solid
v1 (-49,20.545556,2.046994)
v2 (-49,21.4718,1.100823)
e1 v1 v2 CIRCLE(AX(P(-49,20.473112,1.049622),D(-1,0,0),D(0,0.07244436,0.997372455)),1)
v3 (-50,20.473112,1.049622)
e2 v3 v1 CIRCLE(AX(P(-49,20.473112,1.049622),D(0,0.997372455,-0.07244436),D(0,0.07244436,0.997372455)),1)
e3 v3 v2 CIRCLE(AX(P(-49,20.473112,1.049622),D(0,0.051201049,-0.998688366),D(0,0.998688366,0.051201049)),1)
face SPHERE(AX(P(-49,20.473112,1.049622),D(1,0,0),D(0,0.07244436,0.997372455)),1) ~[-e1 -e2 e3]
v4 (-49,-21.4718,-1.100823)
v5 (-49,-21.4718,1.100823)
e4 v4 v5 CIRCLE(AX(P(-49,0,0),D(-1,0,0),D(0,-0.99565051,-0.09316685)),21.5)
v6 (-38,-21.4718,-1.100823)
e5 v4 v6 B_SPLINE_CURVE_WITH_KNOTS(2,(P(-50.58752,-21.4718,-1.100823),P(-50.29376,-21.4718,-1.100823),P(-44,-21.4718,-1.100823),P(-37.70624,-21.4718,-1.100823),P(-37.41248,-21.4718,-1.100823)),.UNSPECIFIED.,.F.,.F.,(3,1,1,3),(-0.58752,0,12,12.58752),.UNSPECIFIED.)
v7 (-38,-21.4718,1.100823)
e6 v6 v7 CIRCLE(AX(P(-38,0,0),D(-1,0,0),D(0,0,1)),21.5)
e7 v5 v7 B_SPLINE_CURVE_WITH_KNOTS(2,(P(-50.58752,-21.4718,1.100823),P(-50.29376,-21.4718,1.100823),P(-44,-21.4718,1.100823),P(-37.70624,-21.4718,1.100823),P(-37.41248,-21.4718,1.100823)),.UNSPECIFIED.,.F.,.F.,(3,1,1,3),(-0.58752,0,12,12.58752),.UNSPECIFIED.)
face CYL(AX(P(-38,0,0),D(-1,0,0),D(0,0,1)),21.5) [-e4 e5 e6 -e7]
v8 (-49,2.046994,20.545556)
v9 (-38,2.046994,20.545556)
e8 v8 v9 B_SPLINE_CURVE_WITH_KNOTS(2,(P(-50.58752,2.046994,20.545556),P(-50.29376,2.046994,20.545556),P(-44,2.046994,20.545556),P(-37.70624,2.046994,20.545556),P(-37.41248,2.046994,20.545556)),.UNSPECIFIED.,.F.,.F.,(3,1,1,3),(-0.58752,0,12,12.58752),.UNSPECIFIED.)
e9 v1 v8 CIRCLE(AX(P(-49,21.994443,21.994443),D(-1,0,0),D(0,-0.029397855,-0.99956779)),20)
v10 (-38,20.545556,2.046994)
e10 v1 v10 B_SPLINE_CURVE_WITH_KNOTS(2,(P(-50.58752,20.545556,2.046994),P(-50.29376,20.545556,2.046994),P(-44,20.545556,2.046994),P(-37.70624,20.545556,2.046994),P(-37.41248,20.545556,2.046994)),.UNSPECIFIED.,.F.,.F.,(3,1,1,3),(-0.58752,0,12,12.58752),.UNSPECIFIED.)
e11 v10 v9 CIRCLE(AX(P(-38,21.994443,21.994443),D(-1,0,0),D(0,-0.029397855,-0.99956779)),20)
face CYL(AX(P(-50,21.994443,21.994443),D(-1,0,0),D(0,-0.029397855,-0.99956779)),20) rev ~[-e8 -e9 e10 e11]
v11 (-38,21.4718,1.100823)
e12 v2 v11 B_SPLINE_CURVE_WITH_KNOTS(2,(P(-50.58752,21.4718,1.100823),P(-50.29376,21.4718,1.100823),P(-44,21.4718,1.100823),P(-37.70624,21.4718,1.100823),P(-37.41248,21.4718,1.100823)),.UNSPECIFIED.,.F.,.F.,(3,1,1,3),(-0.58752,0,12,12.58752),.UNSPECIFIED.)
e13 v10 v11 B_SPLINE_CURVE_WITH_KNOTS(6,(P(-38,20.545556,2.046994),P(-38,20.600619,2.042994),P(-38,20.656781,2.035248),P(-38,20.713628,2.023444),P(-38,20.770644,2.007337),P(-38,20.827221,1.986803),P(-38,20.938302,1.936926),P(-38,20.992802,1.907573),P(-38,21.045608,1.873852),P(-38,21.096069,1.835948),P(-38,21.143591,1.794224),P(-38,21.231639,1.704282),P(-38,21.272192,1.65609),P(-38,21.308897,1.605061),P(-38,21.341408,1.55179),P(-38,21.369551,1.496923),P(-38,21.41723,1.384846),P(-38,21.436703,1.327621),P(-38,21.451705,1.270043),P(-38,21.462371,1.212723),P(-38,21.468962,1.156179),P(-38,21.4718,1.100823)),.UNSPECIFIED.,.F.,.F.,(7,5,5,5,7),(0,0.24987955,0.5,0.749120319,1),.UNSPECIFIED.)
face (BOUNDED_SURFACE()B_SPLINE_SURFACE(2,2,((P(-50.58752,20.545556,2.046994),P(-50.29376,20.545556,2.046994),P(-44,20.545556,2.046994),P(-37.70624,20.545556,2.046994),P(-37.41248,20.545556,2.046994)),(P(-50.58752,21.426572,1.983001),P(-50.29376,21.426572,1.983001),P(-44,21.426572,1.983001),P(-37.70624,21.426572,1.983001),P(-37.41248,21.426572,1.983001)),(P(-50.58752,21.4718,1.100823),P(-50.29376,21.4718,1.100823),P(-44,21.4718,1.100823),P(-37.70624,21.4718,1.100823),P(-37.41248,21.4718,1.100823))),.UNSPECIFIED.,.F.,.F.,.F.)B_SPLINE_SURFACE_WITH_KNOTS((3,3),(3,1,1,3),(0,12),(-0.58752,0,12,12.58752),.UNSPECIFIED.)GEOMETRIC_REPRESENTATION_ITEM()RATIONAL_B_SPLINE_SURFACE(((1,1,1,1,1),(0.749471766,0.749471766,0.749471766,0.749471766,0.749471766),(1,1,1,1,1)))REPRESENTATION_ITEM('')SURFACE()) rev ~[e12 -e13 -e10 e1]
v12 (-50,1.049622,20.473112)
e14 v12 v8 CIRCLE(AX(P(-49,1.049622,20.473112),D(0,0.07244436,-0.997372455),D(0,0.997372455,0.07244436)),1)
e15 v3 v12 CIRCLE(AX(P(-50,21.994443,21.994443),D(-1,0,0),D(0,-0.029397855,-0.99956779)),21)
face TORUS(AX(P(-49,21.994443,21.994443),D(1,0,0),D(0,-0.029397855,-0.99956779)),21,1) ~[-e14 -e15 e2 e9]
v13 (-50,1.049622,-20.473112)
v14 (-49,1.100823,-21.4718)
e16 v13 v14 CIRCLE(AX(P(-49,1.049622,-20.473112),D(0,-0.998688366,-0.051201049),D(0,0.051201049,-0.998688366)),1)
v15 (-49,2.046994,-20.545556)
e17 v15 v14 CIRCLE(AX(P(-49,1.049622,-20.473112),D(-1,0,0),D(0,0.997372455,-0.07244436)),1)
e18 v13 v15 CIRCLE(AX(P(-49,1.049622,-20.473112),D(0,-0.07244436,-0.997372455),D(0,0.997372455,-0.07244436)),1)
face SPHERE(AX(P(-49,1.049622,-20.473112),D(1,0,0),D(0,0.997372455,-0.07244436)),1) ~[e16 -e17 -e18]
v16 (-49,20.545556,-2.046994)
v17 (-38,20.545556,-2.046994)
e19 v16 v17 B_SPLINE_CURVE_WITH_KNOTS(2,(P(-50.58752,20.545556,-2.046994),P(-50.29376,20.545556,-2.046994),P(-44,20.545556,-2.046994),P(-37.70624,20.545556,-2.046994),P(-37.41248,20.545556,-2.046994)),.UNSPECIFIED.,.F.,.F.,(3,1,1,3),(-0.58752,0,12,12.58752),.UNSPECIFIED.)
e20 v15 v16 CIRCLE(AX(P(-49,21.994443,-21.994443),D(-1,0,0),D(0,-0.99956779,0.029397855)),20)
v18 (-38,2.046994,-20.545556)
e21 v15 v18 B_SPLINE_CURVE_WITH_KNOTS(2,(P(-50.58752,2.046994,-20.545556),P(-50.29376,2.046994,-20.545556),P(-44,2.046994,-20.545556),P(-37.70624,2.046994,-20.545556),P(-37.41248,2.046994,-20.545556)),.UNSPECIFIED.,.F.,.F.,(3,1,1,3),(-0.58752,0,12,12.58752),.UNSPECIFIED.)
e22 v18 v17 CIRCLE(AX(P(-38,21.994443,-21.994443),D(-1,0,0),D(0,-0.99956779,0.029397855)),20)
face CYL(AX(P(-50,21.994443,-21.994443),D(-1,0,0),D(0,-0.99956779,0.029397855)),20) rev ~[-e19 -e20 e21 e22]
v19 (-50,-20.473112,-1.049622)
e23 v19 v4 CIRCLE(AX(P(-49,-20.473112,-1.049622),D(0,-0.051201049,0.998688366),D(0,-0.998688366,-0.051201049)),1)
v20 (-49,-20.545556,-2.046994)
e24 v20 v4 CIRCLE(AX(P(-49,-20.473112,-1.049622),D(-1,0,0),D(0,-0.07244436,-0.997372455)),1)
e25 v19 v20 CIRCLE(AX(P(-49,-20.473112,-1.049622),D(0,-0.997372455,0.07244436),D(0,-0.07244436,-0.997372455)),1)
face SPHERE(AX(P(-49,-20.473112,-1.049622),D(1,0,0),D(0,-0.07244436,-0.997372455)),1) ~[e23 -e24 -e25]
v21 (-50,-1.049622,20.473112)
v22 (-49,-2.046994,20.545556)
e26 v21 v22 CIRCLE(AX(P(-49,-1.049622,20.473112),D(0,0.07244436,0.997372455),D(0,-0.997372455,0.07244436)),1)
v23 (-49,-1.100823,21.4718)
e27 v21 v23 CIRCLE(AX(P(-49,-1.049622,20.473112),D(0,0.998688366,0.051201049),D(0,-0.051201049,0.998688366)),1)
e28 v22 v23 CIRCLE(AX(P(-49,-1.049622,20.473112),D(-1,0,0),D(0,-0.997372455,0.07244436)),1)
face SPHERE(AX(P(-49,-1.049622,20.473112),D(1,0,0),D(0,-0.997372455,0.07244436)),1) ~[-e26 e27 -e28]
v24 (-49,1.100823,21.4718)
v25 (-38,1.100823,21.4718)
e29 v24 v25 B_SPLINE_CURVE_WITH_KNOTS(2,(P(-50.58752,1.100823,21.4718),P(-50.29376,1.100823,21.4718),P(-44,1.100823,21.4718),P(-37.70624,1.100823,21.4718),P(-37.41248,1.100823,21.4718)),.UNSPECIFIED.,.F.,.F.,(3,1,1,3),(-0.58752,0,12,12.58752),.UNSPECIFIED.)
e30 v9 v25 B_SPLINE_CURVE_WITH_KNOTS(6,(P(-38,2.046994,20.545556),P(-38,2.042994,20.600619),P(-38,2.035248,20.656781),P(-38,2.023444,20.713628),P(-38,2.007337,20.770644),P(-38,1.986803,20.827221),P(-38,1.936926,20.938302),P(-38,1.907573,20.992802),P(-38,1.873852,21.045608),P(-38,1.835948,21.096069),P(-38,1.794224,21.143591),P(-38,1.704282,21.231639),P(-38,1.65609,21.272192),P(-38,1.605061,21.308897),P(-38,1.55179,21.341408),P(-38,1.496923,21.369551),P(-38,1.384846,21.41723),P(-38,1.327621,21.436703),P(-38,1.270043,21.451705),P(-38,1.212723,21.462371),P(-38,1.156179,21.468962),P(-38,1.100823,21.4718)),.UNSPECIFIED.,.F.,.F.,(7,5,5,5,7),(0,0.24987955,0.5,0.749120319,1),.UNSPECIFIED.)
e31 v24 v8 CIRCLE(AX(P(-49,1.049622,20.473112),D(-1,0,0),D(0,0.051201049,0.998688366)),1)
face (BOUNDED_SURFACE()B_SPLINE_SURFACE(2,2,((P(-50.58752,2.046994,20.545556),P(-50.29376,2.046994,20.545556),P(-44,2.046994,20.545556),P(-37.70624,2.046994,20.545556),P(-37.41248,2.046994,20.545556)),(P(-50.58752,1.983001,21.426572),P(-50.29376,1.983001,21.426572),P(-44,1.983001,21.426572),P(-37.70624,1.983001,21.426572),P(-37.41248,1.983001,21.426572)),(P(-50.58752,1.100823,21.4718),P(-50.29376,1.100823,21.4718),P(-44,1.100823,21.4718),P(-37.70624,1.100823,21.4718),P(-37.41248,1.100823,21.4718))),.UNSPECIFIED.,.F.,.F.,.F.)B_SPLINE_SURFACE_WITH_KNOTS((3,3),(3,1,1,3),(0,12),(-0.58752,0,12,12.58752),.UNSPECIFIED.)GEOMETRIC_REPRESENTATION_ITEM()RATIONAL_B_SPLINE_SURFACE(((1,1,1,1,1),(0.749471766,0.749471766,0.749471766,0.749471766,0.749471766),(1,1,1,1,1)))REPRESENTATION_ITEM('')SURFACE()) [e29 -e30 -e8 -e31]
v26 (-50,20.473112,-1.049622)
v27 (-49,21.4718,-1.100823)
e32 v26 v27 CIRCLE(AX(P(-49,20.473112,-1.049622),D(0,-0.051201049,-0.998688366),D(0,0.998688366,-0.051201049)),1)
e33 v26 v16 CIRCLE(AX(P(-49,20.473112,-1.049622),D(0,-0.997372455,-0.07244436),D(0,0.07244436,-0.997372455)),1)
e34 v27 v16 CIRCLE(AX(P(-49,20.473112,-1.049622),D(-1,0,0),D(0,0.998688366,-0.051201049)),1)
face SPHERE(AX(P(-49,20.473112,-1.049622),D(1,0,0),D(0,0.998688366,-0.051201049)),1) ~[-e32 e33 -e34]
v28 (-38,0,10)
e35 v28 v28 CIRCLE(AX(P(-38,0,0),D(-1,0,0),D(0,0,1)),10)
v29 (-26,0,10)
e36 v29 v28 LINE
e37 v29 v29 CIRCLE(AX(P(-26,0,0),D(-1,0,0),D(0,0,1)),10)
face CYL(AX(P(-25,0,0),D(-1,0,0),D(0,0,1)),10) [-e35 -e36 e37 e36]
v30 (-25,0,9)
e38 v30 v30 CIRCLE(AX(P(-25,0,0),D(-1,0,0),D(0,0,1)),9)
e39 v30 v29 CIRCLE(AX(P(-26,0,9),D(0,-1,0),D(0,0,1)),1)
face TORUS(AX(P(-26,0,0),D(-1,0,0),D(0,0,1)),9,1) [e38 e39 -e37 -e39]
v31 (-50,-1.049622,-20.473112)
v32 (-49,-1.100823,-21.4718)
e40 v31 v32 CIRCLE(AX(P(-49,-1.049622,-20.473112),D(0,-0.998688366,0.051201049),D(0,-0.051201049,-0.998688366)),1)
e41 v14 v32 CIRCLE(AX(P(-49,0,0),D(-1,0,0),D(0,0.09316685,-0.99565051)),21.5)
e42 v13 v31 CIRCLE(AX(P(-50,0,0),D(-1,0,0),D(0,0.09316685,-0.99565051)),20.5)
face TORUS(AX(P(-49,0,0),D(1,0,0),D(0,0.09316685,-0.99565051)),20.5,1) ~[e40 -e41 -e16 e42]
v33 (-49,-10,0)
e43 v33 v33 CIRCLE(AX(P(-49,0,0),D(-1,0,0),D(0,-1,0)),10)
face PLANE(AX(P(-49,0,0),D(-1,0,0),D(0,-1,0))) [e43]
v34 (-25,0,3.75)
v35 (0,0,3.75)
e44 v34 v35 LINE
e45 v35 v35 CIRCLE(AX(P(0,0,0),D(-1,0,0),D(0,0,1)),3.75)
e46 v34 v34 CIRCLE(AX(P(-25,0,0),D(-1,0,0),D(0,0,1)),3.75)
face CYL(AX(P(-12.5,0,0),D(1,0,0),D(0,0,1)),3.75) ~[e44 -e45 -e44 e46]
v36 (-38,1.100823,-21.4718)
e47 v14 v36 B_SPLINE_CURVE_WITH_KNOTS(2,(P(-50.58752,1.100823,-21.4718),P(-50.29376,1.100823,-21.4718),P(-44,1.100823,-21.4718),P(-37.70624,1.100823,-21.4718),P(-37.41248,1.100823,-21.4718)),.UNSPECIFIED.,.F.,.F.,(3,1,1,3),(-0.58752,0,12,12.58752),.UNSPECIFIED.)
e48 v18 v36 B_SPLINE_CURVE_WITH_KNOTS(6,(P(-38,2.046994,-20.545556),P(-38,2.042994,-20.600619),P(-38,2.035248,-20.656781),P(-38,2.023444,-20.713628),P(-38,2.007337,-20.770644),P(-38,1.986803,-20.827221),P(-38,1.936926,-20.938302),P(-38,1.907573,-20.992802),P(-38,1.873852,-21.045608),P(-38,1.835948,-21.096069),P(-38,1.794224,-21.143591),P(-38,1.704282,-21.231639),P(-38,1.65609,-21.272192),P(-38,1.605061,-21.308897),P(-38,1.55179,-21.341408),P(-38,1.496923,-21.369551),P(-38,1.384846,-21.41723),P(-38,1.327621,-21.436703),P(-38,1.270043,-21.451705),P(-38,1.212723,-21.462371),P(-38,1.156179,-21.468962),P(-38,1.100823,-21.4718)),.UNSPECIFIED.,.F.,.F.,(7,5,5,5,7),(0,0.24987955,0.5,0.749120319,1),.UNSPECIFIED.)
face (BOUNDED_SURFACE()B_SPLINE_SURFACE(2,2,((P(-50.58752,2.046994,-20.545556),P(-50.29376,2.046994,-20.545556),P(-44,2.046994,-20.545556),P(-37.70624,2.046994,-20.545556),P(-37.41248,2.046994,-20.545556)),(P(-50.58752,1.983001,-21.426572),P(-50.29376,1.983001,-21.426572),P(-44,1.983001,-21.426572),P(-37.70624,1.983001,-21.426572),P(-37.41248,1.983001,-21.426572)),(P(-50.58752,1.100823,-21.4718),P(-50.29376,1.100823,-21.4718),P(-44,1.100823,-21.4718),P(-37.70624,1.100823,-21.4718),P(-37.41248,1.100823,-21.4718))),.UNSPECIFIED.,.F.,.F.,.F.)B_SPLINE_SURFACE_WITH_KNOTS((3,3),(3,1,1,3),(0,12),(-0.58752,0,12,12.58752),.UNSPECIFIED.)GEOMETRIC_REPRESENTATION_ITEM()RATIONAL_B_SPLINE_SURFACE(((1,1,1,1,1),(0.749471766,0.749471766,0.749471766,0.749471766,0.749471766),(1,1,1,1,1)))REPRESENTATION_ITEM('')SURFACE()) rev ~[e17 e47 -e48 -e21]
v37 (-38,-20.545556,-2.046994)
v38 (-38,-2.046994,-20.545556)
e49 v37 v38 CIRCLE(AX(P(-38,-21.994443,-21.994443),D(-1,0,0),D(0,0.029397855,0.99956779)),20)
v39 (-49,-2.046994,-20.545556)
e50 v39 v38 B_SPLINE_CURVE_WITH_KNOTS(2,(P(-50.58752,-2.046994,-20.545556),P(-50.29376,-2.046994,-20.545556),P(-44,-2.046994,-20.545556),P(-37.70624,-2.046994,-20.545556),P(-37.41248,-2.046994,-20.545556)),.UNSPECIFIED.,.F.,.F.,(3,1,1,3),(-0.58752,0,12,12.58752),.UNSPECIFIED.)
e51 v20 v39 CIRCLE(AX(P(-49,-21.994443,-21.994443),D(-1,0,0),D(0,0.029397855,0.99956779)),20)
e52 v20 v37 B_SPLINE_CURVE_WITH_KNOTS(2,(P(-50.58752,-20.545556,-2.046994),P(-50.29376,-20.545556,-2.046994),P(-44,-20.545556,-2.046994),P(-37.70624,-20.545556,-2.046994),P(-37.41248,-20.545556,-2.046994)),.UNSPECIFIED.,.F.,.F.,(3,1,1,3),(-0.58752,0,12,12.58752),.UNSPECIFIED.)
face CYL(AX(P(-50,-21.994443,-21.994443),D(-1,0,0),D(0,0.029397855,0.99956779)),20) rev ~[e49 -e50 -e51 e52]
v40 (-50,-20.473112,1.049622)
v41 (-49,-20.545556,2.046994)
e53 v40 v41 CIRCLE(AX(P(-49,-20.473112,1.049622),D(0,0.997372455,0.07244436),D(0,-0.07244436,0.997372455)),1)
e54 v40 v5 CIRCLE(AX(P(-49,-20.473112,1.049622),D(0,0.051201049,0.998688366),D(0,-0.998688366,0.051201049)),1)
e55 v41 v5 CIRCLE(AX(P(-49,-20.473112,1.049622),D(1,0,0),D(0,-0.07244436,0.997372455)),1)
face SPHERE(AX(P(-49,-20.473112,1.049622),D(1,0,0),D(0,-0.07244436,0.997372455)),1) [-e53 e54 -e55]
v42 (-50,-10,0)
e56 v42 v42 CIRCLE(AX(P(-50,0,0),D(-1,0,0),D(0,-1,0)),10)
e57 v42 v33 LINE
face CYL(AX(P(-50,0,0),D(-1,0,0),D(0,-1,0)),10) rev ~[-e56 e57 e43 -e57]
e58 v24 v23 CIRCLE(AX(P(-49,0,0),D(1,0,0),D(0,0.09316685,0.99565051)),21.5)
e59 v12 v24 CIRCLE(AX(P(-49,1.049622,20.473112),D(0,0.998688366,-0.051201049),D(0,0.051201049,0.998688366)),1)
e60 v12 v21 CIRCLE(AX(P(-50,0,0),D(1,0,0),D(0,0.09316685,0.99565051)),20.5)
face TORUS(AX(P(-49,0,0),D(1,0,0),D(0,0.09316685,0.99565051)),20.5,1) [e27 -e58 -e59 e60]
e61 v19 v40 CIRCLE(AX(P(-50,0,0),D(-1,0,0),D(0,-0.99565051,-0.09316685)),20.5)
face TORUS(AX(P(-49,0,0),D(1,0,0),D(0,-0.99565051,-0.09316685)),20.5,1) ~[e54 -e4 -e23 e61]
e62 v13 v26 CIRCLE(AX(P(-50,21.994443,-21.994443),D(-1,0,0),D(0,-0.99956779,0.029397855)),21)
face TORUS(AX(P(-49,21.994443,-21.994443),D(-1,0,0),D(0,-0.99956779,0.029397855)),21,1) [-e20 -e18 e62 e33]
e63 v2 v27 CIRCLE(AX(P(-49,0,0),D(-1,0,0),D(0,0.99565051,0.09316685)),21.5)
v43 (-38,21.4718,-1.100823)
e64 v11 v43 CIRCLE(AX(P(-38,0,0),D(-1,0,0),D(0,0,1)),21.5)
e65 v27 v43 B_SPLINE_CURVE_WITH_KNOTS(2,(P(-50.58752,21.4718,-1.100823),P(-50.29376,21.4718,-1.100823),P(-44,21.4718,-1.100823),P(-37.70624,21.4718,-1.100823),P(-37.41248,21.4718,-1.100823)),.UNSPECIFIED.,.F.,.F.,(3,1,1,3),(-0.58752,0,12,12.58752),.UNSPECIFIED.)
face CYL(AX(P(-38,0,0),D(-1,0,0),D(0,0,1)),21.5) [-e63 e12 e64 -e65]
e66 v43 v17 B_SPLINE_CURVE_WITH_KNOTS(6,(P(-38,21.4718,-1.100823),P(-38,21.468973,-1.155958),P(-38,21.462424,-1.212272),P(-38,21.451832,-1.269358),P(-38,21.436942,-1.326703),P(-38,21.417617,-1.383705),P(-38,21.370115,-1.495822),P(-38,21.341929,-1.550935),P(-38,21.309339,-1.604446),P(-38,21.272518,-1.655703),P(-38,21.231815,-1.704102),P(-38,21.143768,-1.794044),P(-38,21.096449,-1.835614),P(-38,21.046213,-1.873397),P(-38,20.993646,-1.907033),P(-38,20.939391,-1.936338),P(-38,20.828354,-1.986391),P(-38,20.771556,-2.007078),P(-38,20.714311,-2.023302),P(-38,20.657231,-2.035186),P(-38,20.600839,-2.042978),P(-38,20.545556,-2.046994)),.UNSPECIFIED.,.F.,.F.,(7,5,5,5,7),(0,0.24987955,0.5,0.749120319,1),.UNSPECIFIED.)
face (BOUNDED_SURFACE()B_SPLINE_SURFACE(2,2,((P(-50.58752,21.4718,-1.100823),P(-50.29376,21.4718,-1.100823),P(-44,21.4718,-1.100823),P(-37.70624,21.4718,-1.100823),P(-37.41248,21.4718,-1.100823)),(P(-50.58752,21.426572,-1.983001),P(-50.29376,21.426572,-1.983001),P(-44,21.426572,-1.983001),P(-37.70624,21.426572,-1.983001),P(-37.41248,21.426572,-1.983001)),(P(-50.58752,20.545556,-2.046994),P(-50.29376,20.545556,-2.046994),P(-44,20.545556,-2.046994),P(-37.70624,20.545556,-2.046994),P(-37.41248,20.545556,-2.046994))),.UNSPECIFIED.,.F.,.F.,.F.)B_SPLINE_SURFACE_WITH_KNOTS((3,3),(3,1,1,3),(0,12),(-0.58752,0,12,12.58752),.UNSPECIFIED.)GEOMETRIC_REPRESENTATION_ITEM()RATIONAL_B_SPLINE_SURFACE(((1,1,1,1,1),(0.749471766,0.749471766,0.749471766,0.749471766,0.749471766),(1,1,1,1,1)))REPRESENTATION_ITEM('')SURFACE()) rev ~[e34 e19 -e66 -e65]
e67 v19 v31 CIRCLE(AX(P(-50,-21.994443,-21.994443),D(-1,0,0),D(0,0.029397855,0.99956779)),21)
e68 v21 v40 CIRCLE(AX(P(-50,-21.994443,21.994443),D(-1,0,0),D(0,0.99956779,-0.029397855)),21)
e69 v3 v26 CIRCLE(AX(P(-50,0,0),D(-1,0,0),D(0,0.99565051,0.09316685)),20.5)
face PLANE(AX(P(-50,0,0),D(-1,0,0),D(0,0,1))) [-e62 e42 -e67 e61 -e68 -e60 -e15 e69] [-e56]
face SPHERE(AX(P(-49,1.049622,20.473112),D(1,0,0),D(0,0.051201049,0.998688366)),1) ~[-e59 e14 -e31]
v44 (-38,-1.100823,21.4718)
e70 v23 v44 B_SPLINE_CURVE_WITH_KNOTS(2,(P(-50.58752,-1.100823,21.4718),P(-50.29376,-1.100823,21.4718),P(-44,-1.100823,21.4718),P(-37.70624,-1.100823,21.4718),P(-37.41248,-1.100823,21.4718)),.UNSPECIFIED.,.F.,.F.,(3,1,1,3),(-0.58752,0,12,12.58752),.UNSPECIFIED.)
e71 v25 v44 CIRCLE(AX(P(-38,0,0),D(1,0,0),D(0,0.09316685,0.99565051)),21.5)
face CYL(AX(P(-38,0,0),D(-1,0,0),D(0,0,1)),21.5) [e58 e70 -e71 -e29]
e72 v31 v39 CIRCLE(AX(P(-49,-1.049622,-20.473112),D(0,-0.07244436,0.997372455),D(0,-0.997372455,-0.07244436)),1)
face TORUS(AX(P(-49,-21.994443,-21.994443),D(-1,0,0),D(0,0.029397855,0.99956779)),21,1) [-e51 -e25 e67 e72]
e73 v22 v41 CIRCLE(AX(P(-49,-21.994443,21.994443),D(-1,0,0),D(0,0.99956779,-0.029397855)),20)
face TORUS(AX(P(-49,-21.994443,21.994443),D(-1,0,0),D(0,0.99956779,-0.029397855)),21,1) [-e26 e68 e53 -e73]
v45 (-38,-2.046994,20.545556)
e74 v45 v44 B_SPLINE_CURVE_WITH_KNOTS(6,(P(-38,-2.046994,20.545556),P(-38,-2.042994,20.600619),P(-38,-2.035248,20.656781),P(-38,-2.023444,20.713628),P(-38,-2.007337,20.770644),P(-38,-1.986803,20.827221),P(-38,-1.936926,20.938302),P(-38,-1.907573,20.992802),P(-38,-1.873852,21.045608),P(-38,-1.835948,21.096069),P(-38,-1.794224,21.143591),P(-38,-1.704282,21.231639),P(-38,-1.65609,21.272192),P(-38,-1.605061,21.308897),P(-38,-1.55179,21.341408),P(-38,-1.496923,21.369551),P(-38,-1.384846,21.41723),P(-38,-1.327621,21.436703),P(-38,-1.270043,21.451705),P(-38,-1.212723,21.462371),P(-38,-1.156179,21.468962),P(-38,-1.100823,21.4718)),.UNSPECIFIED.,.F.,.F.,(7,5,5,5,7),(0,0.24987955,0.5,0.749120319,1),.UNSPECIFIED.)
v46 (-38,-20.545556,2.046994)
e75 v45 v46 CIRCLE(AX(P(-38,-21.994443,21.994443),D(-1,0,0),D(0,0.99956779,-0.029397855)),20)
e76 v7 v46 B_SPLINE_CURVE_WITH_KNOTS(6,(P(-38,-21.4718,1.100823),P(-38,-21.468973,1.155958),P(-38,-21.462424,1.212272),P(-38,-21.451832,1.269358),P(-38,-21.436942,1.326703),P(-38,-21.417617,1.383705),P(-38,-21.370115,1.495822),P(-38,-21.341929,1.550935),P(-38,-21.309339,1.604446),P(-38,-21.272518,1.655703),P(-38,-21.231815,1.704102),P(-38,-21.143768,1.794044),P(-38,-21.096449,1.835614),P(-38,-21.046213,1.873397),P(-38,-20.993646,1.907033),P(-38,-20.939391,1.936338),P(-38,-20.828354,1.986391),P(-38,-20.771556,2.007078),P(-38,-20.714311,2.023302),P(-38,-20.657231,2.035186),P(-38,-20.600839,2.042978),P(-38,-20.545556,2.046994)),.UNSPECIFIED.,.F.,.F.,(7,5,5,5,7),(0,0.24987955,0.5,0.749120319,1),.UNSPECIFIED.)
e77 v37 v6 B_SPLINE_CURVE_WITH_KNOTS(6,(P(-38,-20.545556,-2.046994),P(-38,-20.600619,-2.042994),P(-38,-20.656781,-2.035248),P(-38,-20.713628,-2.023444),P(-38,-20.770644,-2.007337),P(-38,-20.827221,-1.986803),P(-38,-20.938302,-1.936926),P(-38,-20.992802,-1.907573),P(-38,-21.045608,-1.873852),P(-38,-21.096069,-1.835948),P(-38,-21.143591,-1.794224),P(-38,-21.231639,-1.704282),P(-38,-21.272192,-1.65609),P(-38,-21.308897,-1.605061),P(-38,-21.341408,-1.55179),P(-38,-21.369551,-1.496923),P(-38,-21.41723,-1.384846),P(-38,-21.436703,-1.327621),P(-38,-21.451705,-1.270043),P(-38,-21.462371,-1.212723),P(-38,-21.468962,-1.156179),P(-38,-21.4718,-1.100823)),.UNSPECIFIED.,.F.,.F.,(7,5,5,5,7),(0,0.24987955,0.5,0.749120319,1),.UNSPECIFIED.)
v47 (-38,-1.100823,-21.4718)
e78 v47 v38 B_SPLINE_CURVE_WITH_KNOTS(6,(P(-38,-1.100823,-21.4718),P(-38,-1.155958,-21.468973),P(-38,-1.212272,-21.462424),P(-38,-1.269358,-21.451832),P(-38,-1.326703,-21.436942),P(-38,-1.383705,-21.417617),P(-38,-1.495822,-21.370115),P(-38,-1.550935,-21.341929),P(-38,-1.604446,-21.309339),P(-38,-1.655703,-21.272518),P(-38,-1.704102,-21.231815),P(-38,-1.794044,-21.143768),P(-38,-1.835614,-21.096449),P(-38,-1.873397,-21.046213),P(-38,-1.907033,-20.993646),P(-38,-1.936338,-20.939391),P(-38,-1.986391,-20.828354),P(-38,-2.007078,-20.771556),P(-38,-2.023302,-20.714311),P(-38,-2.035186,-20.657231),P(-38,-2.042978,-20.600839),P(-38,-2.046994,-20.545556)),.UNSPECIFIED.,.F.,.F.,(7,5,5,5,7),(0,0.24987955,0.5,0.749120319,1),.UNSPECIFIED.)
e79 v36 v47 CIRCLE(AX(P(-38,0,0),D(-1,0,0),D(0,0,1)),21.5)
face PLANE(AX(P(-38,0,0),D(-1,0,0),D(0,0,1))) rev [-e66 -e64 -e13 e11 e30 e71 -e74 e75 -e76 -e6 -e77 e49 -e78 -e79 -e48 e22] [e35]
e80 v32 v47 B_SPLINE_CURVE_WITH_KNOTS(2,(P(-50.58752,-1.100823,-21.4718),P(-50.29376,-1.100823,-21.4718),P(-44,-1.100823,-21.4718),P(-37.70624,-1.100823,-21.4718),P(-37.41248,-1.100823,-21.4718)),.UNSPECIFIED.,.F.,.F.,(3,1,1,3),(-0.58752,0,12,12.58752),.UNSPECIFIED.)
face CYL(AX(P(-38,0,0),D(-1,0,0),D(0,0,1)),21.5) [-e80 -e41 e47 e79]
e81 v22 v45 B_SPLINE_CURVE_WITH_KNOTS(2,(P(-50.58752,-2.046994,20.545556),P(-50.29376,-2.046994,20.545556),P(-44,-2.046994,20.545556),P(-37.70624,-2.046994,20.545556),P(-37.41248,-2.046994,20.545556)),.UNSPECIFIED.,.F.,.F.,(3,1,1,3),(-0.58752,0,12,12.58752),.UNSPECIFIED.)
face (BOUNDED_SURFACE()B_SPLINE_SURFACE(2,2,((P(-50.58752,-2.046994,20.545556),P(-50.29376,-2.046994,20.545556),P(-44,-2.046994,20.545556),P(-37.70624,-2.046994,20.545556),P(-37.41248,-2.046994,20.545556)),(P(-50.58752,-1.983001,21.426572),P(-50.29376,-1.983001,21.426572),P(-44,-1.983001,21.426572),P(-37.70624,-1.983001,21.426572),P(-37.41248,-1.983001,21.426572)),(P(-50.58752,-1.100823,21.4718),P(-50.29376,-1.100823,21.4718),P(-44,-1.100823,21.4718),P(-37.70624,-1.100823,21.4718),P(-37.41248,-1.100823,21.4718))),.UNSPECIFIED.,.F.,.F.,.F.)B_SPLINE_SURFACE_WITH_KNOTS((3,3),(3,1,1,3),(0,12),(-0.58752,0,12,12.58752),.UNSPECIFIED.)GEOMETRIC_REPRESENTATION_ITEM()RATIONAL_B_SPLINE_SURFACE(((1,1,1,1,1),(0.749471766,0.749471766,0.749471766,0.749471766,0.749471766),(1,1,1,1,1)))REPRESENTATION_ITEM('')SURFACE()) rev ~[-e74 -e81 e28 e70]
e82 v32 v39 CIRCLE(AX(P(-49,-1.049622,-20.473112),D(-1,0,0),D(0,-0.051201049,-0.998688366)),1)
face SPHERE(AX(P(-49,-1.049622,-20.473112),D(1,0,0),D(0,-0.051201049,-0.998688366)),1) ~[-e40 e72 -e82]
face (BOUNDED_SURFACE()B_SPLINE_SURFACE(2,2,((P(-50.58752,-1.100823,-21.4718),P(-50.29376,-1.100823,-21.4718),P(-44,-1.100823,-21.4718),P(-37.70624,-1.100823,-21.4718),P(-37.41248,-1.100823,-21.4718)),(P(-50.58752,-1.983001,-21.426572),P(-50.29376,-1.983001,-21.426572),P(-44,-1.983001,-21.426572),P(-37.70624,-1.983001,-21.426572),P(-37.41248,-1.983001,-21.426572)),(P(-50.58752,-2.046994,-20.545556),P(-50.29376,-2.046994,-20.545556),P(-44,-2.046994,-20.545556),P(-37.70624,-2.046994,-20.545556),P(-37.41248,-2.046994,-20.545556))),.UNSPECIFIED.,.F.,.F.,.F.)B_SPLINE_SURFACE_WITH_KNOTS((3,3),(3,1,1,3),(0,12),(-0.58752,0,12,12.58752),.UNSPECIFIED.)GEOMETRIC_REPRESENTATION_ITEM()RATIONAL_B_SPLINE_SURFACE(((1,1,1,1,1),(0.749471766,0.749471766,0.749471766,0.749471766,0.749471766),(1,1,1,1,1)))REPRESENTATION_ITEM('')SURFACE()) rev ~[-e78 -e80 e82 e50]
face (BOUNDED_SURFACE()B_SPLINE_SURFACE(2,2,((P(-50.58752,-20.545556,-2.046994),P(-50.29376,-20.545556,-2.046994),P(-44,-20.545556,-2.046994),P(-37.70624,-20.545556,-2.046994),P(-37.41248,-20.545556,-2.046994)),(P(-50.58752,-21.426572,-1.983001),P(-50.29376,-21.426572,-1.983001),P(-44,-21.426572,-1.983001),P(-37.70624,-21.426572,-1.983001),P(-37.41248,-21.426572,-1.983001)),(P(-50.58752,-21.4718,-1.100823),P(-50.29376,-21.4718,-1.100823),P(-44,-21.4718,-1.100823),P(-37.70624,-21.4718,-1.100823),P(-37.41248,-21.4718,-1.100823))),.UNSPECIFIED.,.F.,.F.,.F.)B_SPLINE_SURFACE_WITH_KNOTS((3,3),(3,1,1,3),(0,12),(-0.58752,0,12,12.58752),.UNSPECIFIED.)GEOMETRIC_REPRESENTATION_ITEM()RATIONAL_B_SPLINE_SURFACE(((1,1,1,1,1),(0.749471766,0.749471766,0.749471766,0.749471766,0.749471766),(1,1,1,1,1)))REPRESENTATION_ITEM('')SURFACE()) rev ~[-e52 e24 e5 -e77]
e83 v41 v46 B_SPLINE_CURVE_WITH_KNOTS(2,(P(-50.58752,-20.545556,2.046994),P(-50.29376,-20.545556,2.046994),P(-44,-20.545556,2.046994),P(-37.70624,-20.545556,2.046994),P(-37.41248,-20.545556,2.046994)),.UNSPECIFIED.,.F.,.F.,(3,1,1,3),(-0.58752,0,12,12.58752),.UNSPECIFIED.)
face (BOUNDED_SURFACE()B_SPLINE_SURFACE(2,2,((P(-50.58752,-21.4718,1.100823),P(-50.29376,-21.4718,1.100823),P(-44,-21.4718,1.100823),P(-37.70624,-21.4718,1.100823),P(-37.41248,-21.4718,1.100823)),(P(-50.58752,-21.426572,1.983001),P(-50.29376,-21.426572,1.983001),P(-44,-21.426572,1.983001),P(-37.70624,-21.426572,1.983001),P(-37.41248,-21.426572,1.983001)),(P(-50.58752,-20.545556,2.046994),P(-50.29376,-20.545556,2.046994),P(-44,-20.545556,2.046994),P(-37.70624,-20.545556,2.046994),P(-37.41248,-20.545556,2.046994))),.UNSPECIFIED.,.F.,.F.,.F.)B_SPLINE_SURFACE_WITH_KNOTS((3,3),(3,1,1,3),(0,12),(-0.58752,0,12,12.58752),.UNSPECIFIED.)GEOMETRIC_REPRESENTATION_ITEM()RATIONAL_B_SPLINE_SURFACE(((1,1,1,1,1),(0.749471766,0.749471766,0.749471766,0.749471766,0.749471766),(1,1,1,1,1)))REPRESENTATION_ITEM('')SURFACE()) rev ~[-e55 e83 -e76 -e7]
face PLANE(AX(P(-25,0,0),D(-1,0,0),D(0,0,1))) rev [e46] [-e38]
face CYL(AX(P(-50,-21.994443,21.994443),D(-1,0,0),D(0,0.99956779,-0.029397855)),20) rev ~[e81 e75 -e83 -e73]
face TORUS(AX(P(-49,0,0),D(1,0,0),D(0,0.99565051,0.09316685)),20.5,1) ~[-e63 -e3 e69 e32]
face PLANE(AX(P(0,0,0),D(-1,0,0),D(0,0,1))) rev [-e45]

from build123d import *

# Parameters (mm, degrees)
F0_W     = 25
F0_H     = 3.75
F3_DEPTH = 50.001
F4_R     = 1
F2_R     = 10
F5_DEPTH = 1


with BuildPart() as f1:
    # F0 (on Front) → F1 (revolve)
    with BuildSketch(Plane.XZ):
        Polygon((-50, 0), (-38, 0), (-38, 10), (-38, 21.5), (-50, 21.5), align=None)
        Polygon((-38, 0), (-25, 0), (-25, 3.75), (-25, 10), (-38, 10), align=None)
        with Locations((-12.5, 1.875)):
            Rectangle(F0_W, F0_H)
    revolve(axis=Axis((-31.744454056, 0, 0), (-1, 0, 0)))

    # F2 (on face) → F3 (cut, through all)
    with BuildSketch(Plane(origin=(-50, 0, 0), x_dir=(0, -1, 0), z_dir=(-1, 0, 0))):
        with BuildLine():
            ThreePointArc((-21.4064859646, 2.0030872791), (-7.8523074483, 7.8523074483), (-2.0030872791, 21.4064859646))
            ThreePointArc((-2.0030872791, 21.4064859646), (-15.2027957955, 15.2027957955), (-21.4064859646, 2.0030872791))
        make_face()
        with BuildLine():
            ThreePointArc((2.0030872791, 21.4064859646), (7.8523074483, 7.8523074483), (21.4064859646, 2.0030872791))
            ThreePointArc((21.4064859646, 2.0030872791), (15.2027957955, 15.2027957955), (2.0030872791, 21.4064859646))
        make_face()
        with BuildLine():
            ThreePointArc((-21.4064859646, -2.0030872791), (-15.2027957955, -15.2027957955), (-2.0030872791, -21.4064859646))
            ThreePointArc((-2.0030872791, -21.4064859646), (-7.8523074483, -7.8523074483), (-21.4064859646, -2.0030872791))
        make_face()
        with BuildLine():
            ThreePointArc((2.0030872791, -21.4064859646), (15.2027957955, -15.2027957955), (21.4064859646, -2.0030872791))
            ThreePointArc((21.4064859646, -2.0030872791), (7.8523074483, -7.8523074483), (2.0030872791, -21.4064859646))
        make_face()
    extrude(amount=-F3_DEPTH, mode=Mode.SUBTRACT)

    # F4
    f4_edges = [f1.edges().sort_by_distance(p)[0] for p in [
        (-50, -7.852307, 7.852307),
        (-50, 0, 21.5),
        (-50, 7.852307, 7.852307),
        (-50, 21.5, 0),
        (-50, 7.852307, -7.852307),
        (-50, 0, -21.5),
        (-50, -7.852307, -7.852307),
        (-50, -21.5, 0),
        (-44, -2.003087, -21.406486),
        (-44, 21.406486, -2.003087),
        (-44, -21.406486, -2.003087),
        (-44, -2.003087, 21.406486),
        (-44, -21.406486, 2.003087),
        (-44, 2.003087, 21.406486),
        (-44, 21.406486, 2.003087),
        (-44, 2.003087, -21.406486),
        (-25, 0, -10),
    ]]
    fillet(f4_edges, radius=F4_R)

    # F2 (on face) → F5 (cut)
    with BuildSketch(Plane(origin=(-50, 0, 0), x_dir=(0, -1, 0), z_dir=(-1, 0, 0))):
        Circle(F2_R)
    extrude(amount=-F5_DEPTH, mode=Mode.SUBTRACT)


solid = f1.part
